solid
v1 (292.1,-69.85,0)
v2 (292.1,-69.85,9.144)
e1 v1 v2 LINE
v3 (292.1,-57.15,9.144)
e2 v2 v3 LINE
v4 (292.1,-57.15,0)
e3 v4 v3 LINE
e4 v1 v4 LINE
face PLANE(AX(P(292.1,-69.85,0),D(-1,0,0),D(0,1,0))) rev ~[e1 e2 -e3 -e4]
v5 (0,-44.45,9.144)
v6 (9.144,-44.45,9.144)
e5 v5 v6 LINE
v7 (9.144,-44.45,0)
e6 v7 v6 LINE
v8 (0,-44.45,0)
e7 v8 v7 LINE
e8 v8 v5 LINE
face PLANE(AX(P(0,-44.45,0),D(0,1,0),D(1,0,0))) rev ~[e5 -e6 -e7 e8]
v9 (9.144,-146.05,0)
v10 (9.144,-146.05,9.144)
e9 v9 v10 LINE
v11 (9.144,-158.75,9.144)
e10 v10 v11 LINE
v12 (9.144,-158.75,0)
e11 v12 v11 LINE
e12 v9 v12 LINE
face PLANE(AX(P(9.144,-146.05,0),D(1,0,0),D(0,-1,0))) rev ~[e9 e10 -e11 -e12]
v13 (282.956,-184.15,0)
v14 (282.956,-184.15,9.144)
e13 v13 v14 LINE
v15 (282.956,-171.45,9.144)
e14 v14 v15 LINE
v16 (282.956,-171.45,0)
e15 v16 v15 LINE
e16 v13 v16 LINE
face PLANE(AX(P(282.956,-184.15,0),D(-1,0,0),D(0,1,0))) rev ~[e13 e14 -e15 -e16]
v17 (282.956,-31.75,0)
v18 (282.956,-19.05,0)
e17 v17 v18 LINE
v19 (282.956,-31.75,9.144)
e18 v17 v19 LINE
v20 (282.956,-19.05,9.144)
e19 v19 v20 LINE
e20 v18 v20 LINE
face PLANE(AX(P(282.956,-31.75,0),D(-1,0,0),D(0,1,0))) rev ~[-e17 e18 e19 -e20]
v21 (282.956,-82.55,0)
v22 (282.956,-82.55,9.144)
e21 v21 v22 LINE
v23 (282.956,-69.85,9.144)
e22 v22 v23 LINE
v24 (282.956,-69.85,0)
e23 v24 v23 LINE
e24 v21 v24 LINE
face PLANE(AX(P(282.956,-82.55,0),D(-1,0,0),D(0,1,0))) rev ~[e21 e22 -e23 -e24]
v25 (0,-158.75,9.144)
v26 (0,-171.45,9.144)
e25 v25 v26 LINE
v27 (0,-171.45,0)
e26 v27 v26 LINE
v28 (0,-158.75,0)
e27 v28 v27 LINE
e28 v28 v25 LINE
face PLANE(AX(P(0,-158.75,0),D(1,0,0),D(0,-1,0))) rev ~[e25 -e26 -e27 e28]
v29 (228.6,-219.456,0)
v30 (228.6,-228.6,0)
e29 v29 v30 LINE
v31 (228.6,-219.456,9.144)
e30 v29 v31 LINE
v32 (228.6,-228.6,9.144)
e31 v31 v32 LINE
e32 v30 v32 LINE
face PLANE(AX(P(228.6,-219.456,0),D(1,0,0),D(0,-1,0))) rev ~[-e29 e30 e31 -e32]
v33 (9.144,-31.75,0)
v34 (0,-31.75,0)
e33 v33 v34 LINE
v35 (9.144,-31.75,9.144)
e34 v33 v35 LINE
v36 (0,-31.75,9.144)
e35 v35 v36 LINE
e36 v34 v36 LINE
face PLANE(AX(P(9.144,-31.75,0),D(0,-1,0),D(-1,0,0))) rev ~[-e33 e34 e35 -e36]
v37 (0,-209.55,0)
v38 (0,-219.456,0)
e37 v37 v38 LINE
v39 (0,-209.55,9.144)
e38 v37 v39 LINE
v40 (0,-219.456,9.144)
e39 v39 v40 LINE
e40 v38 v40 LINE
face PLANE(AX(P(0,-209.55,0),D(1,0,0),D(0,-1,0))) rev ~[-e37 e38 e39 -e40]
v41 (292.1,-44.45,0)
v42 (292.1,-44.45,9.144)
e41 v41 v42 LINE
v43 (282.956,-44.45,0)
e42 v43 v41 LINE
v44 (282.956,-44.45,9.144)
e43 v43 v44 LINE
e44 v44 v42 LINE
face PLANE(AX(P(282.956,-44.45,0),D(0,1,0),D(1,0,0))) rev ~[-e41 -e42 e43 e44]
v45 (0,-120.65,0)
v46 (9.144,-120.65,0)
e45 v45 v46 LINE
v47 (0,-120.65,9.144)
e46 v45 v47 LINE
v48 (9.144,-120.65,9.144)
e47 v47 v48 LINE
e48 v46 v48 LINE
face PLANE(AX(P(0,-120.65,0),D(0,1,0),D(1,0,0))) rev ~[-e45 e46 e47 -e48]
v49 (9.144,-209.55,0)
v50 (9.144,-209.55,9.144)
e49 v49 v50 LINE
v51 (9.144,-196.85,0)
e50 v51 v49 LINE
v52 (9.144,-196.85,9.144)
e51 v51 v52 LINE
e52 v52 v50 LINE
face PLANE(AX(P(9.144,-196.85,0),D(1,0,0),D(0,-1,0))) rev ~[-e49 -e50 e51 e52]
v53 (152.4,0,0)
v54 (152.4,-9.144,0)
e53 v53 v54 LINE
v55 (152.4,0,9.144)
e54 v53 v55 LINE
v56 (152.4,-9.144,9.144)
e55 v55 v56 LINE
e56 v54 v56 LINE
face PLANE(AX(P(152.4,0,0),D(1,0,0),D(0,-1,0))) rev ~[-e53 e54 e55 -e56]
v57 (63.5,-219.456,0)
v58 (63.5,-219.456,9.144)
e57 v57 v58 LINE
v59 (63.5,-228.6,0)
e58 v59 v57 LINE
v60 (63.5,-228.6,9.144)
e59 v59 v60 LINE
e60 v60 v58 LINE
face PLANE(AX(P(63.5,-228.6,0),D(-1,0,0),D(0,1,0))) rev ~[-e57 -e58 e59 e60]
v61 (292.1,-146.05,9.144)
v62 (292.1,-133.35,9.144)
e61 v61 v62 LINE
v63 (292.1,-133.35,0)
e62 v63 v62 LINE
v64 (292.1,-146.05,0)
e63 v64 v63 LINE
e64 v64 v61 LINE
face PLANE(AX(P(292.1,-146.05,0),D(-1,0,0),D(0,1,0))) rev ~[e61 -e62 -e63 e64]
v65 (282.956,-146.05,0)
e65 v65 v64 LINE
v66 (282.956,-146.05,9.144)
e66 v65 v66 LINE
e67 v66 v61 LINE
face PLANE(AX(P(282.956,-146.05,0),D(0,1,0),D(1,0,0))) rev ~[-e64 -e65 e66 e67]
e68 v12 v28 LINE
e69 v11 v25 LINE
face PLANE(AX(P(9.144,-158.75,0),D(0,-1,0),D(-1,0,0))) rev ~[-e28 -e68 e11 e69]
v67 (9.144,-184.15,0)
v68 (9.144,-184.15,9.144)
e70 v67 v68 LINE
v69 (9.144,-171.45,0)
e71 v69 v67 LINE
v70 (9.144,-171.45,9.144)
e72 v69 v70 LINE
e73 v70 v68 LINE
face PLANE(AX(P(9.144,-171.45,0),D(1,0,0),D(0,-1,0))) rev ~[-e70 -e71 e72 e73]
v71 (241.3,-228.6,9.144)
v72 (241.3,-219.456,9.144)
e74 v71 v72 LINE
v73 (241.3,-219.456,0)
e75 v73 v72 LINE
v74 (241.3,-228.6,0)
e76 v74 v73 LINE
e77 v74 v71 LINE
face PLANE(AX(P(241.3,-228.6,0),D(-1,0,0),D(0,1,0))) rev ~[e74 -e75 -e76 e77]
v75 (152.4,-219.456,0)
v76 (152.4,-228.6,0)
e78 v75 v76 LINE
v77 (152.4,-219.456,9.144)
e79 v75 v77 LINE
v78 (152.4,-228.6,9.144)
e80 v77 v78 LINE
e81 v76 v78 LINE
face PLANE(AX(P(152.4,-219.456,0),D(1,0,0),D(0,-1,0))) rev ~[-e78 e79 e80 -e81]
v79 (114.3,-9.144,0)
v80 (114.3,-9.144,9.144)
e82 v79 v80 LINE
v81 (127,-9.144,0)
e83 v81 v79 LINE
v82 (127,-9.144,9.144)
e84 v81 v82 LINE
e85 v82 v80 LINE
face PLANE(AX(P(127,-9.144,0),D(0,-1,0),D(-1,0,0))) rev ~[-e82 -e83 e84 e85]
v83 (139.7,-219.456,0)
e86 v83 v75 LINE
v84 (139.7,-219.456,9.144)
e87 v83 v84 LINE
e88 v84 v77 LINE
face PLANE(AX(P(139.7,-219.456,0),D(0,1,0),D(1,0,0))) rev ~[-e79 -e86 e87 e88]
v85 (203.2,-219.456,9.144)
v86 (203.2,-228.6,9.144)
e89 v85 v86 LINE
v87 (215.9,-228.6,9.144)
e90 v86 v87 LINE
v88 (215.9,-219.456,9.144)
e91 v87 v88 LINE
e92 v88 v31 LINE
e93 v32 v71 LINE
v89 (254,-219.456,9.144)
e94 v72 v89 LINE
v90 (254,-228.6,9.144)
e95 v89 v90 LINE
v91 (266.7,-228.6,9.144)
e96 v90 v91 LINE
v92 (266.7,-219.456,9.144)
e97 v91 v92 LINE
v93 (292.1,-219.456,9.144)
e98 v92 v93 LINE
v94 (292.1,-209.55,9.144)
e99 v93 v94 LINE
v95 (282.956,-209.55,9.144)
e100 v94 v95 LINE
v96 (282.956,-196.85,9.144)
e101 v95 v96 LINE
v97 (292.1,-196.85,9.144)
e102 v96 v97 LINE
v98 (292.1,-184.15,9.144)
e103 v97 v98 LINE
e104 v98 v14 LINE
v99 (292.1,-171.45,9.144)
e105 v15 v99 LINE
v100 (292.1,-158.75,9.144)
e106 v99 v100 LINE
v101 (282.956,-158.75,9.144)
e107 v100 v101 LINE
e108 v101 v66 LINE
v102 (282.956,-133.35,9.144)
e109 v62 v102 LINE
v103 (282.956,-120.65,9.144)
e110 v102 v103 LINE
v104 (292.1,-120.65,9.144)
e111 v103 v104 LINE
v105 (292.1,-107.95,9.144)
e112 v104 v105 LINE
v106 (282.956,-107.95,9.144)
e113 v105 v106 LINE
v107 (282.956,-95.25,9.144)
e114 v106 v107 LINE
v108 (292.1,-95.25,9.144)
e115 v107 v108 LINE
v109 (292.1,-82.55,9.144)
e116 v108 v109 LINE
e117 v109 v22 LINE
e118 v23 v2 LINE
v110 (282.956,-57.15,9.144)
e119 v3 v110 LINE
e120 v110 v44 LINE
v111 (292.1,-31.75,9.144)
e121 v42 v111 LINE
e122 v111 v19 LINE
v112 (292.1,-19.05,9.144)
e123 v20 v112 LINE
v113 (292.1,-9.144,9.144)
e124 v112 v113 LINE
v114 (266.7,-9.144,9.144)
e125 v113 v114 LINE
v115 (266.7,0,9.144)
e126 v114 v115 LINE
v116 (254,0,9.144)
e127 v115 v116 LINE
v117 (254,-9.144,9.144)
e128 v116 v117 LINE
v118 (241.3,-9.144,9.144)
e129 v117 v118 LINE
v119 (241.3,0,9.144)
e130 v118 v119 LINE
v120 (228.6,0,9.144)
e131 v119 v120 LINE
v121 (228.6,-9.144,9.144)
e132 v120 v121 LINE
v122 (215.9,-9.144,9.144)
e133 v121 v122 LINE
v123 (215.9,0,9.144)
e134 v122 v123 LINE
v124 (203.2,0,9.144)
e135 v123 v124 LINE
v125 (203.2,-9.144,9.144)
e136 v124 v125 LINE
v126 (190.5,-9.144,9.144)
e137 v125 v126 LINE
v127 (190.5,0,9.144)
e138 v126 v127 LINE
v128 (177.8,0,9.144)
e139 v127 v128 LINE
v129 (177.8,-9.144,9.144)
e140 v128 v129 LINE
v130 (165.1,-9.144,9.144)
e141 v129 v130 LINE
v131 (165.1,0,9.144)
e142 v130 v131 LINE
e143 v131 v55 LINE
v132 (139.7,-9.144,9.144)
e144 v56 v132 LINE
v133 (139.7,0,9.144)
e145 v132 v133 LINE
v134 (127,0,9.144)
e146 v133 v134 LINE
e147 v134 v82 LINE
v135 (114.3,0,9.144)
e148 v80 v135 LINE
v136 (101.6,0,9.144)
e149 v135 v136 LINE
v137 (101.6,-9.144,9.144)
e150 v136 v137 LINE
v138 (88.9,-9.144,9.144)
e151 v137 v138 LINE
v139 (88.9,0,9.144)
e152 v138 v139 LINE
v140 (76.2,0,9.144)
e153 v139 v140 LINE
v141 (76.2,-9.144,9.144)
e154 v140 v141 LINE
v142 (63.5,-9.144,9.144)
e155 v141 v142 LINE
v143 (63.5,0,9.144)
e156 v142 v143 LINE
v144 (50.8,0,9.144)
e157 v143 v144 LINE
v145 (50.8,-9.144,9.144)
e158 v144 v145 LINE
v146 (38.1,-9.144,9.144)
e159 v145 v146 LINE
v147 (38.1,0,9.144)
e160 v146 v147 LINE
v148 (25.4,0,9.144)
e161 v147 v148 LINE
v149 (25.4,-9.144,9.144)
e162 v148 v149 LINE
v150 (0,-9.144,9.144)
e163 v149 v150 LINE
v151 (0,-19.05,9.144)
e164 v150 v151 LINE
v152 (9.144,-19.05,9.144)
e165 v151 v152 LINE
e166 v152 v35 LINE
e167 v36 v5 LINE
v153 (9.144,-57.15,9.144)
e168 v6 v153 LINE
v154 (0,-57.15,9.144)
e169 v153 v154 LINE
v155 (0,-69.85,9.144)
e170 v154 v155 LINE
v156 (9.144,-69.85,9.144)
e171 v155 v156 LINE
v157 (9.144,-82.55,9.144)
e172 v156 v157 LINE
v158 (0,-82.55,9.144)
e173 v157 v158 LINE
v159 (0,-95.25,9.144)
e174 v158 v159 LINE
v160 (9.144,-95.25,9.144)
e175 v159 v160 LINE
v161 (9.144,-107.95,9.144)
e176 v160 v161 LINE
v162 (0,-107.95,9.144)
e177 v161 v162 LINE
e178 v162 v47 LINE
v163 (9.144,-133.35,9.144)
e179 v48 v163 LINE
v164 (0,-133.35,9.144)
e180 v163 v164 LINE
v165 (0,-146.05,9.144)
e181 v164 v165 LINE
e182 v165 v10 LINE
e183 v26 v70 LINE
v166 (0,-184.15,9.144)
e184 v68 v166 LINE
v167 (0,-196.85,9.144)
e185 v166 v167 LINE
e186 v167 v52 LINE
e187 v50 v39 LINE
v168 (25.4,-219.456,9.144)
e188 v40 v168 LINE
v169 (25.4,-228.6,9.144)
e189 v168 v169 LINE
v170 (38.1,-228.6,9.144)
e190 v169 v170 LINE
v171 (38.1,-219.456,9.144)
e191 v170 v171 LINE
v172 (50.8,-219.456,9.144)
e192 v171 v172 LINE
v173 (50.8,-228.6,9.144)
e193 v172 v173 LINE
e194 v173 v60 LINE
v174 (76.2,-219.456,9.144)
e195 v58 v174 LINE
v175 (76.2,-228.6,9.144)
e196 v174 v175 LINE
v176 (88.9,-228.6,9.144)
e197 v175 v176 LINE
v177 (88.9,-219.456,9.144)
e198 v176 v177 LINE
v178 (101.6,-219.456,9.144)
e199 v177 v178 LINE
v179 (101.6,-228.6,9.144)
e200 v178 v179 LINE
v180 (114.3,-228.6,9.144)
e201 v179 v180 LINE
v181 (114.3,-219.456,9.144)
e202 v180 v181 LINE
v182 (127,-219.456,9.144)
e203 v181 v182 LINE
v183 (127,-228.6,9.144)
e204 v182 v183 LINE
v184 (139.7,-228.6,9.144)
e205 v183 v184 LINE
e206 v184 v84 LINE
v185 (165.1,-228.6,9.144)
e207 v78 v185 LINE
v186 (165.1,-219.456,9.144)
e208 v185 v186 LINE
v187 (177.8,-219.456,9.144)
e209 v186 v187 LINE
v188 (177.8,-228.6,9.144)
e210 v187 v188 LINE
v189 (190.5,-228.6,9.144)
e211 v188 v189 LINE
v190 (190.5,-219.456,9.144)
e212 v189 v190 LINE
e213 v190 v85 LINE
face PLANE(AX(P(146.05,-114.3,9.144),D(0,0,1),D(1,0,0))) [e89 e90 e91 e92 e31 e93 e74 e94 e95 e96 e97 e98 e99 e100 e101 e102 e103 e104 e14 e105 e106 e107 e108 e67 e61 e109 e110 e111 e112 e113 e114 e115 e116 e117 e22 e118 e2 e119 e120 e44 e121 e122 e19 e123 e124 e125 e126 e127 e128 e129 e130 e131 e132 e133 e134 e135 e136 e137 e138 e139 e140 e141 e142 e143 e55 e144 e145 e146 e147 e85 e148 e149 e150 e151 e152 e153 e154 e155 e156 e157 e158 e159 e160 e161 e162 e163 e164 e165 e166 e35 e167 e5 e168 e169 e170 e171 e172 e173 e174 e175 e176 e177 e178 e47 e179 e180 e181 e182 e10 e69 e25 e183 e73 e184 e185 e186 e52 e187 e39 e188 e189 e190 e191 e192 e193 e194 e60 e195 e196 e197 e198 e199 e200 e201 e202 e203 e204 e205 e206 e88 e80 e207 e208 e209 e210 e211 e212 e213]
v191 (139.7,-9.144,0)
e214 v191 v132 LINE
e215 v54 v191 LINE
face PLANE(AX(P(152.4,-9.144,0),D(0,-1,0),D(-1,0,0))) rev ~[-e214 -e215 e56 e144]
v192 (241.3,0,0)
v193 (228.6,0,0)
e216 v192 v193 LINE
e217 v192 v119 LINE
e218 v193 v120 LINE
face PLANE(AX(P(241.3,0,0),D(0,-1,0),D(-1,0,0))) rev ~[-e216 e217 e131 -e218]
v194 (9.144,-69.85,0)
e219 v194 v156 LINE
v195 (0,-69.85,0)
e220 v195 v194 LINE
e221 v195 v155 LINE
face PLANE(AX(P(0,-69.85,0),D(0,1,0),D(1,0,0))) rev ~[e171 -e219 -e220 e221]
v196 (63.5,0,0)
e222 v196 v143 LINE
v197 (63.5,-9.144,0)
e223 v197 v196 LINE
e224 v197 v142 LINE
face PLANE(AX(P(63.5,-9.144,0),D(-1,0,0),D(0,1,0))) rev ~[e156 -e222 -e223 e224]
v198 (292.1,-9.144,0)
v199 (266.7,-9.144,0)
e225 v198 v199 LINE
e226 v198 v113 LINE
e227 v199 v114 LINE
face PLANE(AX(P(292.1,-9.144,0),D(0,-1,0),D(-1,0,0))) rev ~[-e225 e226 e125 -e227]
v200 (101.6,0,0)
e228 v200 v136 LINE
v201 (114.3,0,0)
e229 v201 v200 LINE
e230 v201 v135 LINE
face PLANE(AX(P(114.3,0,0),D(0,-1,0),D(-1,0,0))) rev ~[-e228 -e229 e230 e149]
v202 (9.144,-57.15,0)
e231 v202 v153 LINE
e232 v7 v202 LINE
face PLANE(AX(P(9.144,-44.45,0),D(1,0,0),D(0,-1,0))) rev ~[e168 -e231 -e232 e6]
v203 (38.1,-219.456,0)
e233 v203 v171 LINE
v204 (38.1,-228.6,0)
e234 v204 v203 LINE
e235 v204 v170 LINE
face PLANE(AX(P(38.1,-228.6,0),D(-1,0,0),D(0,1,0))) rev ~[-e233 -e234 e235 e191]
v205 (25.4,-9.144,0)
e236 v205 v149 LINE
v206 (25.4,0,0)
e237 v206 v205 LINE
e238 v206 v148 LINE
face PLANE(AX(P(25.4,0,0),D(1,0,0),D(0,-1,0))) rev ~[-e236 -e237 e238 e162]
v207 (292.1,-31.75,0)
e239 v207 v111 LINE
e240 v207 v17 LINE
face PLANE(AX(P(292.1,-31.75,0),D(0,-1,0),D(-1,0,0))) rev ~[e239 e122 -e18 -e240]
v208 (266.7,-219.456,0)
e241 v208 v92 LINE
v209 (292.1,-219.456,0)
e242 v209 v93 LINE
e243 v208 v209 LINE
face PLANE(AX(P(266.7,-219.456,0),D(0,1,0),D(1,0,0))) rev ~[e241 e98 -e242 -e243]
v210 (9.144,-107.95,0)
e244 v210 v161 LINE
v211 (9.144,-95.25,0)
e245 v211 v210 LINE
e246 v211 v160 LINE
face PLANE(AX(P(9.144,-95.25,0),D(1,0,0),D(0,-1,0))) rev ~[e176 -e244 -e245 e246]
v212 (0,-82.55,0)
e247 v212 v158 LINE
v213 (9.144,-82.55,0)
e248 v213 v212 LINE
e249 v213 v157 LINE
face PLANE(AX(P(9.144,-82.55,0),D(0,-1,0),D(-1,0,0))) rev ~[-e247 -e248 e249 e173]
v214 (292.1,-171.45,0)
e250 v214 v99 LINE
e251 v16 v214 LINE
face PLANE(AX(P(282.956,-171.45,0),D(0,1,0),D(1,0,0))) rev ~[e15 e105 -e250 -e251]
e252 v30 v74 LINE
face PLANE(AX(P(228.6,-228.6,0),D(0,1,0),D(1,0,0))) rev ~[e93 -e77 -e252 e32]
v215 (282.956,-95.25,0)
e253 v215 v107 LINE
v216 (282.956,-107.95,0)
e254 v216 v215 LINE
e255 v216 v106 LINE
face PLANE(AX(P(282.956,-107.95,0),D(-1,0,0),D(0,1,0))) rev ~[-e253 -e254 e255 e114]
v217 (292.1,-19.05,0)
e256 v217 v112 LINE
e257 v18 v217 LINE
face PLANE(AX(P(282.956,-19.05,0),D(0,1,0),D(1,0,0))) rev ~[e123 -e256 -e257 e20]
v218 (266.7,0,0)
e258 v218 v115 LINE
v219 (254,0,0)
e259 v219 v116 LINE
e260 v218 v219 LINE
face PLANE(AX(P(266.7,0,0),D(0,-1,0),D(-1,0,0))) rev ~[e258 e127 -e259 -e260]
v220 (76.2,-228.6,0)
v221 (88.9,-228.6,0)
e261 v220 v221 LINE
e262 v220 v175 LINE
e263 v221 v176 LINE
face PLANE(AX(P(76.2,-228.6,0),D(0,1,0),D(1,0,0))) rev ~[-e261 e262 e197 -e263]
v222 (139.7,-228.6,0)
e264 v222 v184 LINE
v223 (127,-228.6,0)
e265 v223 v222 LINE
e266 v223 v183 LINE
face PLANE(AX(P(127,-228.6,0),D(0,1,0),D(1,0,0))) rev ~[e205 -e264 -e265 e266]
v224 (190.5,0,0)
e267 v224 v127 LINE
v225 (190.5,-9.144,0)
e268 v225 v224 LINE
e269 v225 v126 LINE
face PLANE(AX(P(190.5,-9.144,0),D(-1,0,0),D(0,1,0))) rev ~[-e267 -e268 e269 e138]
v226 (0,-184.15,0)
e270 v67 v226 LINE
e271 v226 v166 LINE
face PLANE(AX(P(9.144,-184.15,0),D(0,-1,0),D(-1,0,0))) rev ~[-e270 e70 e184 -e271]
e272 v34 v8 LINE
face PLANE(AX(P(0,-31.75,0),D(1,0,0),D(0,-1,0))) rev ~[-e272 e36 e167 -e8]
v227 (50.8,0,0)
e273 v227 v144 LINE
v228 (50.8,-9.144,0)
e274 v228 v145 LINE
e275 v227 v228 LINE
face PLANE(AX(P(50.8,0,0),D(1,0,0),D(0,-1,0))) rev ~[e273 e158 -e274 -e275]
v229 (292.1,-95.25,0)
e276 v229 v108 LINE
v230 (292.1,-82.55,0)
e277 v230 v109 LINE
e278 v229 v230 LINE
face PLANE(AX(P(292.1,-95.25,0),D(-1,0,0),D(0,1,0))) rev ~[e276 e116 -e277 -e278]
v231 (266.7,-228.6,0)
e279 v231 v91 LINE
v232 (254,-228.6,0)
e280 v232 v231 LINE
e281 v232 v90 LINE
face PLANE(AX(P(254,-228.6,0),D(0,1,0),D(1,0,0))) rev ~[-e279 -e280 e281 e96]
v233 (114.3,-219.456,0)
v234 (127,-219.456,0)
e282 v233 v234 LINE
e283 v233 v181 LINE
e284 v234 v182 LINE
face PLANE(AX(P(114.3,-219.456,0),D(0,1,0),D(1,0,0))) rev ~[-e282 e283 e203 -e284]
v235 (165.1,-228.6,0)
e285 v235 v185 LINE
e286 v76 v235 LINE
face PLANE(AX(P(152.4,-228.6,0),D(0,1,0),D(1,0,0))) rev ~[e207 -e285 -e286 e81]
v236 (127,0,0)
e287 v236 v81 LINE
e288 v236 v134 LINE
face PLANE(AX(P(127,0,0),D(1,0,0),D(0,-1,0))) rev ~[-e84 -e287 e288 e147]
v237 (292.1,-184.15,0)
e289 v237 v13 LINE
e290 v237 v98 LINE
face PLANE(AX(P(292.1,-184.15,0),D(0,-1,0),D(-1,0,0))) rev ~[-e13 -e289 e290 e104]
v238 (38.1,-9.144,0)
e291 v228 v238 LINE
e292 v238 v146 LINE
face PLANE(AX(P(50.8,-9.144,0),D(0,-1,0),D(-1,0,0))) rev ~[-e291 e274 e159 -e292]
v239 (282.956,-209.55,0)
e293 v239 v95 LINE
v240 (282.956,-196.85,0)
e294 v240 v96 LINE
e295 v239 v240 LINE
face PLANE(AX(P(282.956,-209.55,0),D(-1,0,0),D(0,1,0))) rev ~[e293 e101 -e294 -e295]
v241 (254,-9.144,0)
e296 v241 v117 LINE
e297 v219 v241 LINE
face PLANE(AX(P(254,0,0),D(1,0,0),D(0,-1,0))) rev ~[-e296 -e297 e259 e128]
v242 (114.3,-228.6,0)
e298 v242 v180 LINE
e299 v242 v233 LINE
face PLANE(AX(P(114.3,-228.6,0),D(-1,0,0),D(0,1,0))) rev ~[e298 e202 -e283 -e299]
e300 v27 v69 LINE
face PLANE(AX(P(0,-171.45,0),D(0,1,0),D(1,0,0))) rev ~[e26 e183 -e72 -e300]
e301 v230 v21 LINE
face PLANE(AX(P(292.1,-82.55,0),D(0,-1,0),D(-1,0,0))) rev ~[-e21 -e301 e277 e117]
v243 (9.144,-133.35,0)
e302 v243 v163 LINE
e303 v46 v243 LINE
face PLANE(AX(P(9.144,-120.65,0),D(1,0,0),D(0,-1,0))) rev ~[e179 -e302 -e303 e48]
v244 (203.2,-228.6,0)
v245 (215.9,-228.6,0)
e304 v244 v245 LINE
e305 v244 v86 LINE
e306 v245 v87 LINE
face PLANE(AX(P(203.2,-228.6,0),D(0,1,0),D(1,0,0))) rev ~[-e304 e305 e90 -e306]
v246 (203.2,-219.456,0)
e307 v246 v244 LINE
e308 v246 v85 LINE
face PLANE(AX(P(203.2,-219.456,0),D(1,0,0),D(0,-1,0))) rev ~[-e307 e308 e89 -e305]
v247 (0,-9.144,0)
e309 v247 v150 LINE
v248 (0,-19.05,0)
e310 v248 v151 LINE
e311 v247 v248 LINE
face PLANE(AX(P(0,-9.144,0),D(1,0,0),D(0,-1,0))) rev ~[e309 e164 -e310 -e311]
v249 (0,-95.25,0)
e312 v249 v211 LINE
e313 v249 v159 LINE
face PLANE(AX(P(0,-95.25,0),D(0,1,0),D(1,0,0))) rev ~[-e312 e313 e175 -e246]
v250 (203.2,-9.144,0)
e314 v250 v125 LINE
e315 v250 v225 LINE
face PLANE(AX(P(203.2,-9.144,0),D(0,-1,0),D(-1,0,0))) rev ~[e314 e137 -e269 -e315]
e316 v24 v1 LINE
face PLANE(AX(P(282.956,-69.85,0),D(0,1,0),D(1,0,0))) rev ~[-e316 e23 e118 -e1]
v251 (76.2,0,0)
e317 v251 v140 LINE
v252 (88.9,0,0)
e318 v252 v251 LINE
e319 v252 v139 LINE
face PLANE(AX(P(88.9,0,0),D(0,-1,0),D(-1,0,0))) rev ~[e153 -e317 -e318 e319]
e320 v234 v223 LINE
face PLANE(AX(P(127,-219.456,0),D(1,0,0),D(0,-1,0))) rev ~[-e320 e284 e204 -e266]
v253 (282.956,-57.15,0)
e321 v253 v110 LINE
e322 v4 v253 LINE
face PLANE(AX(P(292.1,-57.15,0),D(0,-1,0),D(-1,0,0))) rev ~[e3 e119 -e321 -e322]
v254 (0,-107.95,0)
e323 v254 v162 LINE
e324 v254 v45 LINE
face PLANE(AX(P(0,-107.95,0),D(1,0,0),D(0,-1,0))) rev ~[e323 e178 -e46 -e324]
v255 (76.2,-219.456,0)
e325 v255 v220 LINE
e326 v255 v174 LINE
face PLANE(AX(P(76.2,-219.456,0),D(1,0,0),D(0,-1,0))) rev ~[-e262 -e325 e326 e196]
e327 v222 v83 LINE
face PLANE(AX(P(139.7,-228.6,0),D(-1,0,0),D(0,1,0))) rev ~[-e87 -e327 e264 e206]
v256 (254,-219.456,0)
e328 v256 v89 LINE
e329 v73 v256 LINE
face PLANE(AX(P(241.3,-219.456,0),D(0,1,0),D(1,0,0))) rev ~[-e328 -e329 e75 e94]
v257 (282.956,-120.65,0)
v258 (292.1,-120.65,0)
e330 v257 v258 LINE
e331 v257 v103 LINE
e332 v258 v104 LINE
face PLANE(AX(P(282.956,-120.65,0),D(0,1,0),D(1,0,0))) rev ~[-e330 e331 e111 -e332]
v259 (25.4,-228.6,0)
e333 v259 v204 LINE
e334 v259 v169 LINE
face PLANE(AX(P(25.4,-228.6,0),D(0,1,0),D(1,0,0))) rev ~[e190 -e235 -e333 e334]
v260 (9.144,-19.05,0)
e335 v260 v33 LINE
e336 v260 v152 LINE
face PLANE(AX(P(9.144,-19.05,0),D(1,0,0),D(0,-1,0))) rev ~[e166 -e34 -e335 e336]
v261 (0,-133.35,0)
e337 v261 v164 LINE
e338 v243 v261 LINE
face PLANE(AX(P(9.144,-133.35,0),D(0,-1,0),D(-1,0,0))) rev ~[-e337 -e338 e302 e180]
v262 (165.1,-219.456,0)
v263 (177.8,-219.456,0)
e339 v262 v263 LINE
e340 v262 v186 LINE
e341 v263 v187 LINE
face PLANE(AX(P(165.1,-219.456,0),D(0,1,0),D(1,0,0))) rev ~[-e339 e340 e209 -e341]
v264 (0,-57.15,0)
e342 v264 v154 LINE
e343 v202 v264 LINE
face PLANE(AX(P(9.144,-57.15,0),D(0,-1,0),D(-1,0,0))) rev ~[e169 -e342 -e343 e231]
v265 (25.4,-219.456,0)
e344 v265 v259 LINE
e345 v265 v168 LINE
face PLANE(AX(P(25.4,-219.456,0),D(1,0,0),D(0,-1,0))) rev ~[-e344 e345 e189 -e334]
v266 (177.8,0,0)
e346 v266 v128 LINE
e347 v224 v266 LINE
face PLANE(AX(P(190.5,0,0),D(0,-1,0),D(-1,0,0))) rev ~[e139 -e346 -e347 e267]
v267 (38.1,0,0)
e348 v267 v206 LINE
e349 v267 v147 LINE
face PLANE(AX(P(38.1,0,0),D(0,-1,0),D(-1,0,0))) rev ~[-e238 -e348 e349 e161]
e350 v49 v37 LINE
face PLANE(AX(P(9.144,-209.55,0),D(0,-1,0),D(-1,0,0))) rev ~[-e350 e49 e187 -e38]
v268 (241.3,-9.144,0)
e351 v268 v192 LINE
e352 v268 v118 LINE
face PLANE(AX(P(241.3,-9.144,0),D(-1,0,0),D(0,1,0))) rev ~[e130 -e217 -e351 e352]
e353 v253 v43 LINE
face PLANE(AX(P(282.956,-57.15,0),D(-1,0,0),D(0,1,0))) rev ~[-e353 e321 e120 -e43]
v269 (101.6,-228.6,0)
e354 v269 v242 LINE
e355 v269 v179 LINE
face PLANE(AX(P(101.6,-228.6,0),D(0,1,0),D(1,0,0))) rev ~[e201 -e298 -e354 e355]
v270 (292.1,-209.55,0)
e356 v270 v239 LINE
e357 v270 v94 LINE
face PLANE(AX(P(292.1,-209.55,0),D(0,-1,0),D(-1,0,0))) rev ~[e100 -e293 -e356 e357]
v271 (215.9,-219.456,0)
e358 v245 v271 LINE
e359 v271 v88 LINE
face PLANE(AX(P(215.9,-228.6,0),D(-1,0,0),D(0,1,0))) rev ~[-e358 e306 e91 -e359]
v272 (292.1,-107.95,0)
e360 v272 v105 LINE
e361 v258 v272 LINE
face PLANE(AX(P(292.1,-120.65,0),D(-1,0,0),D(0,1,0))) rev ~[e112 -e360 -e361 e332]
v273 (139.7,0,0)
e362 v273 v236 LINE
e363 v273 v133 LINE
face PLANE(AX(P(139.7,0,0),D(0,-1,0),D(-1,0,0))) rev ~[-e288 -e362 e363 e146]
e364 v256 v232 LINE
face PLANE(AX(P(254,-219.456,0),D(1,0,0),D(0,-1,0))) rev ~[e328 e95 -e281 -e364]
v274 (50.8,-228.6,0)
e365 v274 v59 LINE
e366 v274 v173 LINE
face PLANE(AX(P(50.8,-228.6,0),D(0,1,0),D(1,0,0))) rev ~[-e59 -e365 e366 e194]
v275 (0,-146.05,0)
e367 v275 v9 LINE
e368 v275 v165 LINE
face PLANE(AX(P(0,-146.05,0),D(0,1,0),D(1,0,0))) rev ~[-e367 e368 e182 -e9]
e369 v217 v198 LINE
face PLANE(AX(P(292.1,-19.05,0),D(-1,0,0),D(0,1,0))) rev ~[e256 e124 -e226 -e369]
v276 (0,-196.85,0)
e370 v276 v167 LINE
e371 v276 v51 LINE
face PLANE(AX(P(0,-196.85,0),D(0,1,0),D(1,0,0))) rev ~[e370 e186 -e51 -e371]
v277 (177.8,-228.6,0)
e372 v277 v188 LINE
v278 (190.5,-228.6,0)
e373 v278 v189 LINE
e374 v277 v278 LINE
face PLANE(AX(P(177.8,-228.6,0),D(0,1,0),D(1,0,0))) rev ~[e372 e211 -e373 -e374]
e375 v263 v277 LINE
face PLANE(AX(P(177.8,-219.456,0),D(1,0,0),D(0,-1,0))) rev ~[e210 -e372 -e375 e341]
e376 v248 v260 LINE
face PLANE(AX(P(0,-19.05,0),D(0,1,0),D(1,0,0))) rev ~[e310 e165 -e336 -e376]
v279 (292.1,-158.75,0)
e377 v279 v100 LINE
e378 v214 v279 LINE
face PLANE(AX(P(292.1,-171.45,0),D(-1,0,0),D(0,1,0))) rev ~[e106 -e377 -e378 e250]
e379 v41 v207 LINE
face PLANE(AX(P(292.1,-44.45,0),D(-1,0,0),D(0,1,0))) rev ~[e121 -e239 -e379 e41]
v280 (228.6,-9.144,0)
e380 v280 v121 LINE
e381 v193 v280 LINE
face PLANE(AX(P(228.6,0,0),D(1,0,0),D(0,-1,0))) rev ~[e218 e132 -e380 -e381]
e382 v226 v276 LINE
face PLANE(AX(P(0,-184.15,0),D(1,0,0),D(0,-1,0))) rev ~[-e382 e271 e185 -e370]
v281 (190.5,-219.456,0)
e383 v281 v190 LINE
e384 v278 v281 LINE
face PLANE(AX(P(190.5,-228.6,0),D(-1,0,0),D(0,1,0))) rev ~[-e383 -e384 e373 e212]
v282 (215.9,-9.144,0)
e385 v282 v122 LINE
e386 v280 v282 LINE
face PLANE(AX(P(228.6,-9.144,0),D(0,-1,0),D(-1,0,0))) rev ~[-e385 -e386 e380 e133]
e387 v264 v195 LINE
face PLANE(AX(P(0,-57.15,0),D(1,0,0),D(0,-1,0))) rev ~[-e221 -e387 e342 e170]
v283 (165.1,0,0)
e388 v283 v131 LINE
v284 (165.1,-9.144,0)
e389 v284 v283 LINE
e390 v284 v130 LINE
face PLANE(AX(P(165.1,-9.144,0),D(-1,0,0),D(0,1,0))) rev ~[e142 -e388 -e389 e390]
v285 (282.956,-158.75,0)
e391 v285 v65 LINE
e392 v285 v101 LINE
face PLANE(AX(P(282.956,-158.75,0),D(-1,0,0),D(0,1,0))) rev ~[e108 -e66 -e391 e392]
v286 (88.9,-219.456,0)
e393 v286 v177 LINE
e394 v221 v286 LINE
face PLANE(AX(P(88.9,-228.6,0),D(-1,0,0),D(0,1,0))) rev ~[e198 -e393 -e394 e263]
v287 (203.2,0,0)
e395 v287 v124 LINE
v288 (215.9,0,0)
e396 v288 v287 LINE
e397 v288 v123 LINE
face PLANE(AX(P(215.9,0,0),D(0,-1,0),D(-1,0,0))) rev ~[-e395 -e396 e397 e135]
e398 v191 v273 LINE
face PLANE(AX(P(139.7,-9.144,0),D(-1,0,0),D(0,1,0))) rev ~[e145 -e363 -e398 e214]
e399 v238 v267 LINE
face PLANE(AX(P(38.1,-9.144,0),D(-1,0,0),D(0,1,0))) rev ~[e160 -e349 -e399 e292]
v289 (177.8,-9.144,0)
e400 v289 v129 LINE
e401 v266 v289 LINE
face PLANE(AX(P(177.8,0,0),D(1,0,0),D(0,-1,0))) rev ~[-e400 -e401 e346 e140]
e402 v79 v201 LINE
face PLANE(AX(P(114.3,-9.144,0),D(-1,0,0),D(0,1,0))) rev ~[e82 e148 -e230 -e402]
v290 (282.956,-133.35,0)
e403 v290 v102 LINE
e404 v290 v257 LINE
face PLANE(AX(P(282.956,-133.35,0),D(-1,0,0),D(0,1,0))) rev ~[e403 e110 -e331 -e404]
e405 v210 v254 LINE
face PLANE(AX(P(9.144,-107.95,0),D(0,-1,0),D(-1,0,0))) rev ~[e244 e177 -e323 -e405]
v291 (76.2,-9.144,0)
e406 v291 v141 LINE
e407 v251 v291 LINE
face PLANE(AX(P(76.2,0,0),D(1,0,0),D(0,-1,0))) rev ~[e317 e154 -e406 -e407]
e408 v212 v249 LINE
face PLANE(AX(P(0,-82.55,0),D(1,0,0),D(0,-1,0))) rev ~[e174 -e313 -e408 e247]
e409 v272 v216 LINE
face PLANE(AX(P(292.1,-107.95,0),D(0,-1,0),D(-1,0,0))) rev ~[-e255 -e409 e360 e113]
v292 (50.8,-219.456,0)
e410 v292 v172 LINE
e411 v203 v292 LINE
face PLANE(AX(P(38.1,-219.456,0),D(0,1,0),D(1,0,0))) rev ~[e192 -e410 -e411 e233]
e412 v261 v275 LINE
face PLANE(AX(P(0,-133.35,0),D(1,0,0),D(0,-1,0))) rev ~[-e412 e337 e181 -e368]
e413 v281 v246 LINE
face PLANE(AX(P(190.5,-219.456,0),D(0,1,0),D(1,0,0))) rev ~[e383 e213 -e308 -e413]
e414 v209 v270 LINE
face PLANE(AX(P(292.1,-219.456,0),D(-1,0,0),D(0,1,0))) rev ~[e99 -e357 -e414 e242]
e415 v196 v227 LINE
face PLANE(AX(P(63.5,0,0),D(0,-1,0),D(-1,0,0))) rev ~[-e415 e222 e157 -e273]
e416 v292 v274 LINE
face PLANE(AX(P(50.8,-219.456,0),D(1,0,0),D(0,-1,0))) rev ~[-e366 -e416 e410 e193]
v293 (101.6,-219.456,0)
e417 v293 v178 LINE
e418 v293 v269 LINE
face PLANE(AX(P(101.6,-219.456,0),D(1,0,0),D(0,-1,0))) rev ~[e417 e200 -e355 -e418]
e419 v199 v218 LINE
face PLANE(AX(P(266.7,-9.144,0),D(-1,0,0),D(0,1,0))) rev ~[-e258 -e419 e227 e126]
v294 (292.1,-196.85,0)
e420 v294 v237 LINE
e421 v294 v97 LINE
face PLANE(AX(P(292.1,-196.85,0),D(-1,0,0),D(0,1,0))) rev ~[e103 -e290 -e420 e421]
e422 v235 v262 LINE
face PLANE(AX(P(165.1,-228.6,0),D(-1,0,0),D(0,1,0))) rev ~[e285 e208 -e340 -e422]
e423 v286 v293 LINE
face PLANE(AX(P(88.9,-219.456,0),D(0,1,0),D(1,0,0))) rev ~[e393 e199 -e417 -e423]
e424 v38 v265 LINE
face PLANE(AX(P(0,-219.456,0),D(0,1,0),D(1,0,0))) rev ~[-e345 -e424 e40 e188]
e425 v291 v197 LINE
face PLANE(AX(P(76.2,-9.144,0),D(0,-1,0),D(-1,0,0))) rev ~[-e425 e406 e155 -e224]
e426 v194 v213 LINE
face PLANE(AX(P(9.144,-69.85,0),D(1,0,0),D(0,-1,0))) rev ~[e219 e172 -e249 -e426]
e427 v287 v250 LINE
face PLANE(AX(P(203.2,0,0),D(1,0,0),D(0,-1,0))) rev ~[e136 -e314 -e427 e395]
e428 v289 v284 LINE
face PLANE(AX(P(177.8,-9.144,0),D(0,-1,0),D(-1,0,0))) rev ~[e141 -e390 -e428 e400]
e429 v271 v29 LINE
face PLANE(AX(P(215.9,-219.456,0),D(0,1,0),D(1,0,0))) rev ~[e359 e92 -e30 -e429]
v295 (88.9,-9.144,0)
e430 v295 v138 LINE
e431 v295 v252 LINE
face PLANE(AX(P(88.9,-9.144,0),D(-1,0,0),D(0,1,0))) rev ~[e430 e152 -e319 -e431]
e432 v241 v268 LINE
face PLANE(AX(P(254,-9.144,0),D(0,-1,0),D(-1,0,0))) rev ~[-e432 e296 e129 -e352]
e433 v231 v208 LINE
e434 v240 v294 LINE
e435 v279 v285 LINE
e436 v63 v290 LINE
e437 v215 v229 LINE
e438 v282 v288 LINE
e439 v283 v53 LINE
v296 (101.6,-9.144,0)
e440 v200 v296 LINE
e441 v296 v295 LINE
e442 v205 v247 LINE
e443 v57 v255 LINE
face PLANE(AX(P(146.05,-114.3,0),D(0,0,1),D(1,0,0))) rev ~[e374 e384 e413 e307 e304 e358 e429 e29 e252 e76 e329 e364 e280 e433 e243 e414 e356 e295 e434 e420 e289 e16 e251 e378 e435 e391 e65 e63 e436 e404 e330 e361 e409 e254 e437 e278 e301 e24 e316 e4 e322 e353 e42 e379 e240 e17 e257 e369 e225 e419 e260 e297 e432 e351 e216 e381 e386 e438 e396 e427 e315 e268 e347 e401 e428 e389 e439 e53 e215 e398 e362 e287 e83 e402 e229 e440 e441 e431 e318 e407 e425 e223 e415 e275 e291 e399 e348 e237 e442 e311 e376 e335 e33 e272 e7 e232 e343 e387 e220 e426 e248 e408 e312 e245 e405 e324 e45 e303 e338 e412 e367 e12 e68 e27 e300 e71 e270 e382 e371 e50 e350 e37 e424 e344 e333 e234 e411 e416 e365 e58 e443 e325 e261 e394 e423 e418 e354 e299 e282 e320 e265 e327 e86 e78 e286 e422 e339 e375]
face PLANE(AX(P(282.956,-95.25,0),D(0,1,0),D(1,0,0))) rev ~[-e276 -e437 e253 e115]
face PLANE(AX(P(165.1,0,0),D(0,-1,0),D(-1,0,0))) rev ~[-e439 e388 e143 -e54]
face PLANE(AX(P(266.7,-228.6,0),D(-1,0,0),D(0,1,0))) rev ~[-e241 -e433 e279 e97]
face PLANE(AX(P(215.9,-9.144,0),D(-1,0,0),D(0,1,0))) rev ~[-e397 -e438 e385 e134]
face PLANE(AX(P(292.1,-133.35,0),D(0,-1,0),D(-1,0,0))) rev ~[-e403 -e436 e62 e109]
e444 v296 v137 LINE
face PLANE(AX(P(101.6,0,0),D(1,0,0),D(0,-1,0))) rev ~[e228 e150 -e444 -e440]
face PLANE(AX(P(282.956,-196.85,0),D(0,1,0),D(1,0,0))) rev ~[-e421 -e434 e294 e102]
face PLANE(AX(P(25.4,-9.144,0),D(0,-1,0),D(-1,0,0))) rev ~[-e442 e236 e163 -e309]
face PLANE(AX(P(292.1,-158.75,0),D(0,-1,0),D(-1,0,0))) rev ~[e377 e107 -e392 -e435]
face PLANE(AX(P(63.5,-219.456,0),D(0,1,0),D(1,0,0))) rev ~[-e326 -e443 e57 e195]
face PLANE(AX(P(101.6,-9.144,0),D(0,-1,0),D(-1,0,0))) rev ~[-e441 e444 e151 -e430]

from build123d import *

# Parameters (mm, degrees)
F1_DEPTH = 9.144


with BuildPart() as f1:
    # F0 (on Top) → F1 (new body)
    with BuildSketch(Plane.XY):
        Polygon((25.4, -9.144), (0, -9.144), (0, -19.05), (9.144, -19.05), (9.144, -31.75), (0, -31.75), (0, -44.45), (9.144, -44.45), (9.144, -57.15), (0, -57.15), (0, -69.85), (9.144, -69.85), (9.144, -82.55), (0, -82.55), (0, -95.25), (9.144, -95.25), (9.144, -107.95), (0, -107.95), (0, -120.65), (9.144, -120.65), (9.144, -133.35), (0, -133.35), (0, -146.05), (9.144, -146.05), (9.144, -158.75), (0, -158.75), (0, -171.45), (9.144, -171.45), (9.144, -184.15), (0, -184.15), (0, -196.85), (9.144, -196.85), (9.144, -209.55), (0, -209.55), (0, -219.456), (25.4, -219.456), (25.4, -228.6), (38.1, -228.6), (38.1, -219.456), (50.8, -219.456), (50.8, -228.6), (63.5, -228.6), (63.5, -219.456), (76.2, -219.456), (76.2, -228.6), (88.9, -228.6), (88.9, -219.456), (101.6, -219.456), (101.6, -228.6), (114.3, -228.6), (114.3, -219.456), (127, -219.456), (127, -228.6), (139.7, -228.6), (139.7, -219.456), (152.4, -219.456), (152.4, -228.6), (165.1, -228.6), (165.1, -219.456), (177.8, -219.456), (177.8, -228.6), (190.5, -228.6), (190.5, -219.456), (203.2, -219.456), (203.2, -228.6), (215.9, -228.6), (215.9, -219.456), (228.6, -219.456), (228.6, -228.6), (241.3, -228.6), (241.3, -219.456), (254, -219.456), (254, -228.6), (266.7, -228.6), (266.7, -219.456), (292.1, -219.456), (292.1, -209.55), (282.956, -209.55), (282.956, -196.85), (292.1, -196.85), (292.1, -184.15), (282.956, -184.15), (282.956, -171.45), (292.1, -171.45), (292.1, -158.75), (282.956, -158.75), (282.956, -146.05), (292.1, -146.05), (292.1, -133.35), (282.956, -133.35), (282.956, -120.65), (292.1, -120.65), (292.1, -107.95), (282.956, -107.95), (282.956, -95.25), (292.1, -95.25), (292.1, -82.55), (282.956, -82.55), (282.956, -69.85), (292.1, -69.85), (292.1, -57.15), (282.956, -57.15), (282.956, -44.45), (292.1, -44.45), (292.1, -31.75), (282.956, -31.75), (282.956, -19.05), (292.1, -19.05), (292.1, -9.144), (266.7, -9.144), (266.7, 0), (254, 0), (254, -9.144), (241.3, -9.144), (241.3, 0), (228.6, 0), (228.6, -9.144), (215.9, -9.144), (215.9, 0), (203.2, 0), (203.2, -9.144), (190.5, -9.144), (190.5, 0), (177.8, 0), (177.8, -9.144), (165.1, -9.144), (165.1, 0), (152.4, 0), (152.4, -9.144), (139.7, -9.144), (139.7, 0), (127, 0), (127, -9.144), (114.3, -9.144), (114.3, 0), (101.6, 0), (101.6, -9.144), (88.9, -9.144), (88.9, 0), (76.2, 0), (76.2, -9.144), (63.5, -9.144), (63.5, 0), (50.8, 0), (50.8, -9.144), (38.1, -9.144), (38.1, 0), (25.4, 0), align=None)
    extrude(amount=F1_DEPTH)


solid = f1.part
